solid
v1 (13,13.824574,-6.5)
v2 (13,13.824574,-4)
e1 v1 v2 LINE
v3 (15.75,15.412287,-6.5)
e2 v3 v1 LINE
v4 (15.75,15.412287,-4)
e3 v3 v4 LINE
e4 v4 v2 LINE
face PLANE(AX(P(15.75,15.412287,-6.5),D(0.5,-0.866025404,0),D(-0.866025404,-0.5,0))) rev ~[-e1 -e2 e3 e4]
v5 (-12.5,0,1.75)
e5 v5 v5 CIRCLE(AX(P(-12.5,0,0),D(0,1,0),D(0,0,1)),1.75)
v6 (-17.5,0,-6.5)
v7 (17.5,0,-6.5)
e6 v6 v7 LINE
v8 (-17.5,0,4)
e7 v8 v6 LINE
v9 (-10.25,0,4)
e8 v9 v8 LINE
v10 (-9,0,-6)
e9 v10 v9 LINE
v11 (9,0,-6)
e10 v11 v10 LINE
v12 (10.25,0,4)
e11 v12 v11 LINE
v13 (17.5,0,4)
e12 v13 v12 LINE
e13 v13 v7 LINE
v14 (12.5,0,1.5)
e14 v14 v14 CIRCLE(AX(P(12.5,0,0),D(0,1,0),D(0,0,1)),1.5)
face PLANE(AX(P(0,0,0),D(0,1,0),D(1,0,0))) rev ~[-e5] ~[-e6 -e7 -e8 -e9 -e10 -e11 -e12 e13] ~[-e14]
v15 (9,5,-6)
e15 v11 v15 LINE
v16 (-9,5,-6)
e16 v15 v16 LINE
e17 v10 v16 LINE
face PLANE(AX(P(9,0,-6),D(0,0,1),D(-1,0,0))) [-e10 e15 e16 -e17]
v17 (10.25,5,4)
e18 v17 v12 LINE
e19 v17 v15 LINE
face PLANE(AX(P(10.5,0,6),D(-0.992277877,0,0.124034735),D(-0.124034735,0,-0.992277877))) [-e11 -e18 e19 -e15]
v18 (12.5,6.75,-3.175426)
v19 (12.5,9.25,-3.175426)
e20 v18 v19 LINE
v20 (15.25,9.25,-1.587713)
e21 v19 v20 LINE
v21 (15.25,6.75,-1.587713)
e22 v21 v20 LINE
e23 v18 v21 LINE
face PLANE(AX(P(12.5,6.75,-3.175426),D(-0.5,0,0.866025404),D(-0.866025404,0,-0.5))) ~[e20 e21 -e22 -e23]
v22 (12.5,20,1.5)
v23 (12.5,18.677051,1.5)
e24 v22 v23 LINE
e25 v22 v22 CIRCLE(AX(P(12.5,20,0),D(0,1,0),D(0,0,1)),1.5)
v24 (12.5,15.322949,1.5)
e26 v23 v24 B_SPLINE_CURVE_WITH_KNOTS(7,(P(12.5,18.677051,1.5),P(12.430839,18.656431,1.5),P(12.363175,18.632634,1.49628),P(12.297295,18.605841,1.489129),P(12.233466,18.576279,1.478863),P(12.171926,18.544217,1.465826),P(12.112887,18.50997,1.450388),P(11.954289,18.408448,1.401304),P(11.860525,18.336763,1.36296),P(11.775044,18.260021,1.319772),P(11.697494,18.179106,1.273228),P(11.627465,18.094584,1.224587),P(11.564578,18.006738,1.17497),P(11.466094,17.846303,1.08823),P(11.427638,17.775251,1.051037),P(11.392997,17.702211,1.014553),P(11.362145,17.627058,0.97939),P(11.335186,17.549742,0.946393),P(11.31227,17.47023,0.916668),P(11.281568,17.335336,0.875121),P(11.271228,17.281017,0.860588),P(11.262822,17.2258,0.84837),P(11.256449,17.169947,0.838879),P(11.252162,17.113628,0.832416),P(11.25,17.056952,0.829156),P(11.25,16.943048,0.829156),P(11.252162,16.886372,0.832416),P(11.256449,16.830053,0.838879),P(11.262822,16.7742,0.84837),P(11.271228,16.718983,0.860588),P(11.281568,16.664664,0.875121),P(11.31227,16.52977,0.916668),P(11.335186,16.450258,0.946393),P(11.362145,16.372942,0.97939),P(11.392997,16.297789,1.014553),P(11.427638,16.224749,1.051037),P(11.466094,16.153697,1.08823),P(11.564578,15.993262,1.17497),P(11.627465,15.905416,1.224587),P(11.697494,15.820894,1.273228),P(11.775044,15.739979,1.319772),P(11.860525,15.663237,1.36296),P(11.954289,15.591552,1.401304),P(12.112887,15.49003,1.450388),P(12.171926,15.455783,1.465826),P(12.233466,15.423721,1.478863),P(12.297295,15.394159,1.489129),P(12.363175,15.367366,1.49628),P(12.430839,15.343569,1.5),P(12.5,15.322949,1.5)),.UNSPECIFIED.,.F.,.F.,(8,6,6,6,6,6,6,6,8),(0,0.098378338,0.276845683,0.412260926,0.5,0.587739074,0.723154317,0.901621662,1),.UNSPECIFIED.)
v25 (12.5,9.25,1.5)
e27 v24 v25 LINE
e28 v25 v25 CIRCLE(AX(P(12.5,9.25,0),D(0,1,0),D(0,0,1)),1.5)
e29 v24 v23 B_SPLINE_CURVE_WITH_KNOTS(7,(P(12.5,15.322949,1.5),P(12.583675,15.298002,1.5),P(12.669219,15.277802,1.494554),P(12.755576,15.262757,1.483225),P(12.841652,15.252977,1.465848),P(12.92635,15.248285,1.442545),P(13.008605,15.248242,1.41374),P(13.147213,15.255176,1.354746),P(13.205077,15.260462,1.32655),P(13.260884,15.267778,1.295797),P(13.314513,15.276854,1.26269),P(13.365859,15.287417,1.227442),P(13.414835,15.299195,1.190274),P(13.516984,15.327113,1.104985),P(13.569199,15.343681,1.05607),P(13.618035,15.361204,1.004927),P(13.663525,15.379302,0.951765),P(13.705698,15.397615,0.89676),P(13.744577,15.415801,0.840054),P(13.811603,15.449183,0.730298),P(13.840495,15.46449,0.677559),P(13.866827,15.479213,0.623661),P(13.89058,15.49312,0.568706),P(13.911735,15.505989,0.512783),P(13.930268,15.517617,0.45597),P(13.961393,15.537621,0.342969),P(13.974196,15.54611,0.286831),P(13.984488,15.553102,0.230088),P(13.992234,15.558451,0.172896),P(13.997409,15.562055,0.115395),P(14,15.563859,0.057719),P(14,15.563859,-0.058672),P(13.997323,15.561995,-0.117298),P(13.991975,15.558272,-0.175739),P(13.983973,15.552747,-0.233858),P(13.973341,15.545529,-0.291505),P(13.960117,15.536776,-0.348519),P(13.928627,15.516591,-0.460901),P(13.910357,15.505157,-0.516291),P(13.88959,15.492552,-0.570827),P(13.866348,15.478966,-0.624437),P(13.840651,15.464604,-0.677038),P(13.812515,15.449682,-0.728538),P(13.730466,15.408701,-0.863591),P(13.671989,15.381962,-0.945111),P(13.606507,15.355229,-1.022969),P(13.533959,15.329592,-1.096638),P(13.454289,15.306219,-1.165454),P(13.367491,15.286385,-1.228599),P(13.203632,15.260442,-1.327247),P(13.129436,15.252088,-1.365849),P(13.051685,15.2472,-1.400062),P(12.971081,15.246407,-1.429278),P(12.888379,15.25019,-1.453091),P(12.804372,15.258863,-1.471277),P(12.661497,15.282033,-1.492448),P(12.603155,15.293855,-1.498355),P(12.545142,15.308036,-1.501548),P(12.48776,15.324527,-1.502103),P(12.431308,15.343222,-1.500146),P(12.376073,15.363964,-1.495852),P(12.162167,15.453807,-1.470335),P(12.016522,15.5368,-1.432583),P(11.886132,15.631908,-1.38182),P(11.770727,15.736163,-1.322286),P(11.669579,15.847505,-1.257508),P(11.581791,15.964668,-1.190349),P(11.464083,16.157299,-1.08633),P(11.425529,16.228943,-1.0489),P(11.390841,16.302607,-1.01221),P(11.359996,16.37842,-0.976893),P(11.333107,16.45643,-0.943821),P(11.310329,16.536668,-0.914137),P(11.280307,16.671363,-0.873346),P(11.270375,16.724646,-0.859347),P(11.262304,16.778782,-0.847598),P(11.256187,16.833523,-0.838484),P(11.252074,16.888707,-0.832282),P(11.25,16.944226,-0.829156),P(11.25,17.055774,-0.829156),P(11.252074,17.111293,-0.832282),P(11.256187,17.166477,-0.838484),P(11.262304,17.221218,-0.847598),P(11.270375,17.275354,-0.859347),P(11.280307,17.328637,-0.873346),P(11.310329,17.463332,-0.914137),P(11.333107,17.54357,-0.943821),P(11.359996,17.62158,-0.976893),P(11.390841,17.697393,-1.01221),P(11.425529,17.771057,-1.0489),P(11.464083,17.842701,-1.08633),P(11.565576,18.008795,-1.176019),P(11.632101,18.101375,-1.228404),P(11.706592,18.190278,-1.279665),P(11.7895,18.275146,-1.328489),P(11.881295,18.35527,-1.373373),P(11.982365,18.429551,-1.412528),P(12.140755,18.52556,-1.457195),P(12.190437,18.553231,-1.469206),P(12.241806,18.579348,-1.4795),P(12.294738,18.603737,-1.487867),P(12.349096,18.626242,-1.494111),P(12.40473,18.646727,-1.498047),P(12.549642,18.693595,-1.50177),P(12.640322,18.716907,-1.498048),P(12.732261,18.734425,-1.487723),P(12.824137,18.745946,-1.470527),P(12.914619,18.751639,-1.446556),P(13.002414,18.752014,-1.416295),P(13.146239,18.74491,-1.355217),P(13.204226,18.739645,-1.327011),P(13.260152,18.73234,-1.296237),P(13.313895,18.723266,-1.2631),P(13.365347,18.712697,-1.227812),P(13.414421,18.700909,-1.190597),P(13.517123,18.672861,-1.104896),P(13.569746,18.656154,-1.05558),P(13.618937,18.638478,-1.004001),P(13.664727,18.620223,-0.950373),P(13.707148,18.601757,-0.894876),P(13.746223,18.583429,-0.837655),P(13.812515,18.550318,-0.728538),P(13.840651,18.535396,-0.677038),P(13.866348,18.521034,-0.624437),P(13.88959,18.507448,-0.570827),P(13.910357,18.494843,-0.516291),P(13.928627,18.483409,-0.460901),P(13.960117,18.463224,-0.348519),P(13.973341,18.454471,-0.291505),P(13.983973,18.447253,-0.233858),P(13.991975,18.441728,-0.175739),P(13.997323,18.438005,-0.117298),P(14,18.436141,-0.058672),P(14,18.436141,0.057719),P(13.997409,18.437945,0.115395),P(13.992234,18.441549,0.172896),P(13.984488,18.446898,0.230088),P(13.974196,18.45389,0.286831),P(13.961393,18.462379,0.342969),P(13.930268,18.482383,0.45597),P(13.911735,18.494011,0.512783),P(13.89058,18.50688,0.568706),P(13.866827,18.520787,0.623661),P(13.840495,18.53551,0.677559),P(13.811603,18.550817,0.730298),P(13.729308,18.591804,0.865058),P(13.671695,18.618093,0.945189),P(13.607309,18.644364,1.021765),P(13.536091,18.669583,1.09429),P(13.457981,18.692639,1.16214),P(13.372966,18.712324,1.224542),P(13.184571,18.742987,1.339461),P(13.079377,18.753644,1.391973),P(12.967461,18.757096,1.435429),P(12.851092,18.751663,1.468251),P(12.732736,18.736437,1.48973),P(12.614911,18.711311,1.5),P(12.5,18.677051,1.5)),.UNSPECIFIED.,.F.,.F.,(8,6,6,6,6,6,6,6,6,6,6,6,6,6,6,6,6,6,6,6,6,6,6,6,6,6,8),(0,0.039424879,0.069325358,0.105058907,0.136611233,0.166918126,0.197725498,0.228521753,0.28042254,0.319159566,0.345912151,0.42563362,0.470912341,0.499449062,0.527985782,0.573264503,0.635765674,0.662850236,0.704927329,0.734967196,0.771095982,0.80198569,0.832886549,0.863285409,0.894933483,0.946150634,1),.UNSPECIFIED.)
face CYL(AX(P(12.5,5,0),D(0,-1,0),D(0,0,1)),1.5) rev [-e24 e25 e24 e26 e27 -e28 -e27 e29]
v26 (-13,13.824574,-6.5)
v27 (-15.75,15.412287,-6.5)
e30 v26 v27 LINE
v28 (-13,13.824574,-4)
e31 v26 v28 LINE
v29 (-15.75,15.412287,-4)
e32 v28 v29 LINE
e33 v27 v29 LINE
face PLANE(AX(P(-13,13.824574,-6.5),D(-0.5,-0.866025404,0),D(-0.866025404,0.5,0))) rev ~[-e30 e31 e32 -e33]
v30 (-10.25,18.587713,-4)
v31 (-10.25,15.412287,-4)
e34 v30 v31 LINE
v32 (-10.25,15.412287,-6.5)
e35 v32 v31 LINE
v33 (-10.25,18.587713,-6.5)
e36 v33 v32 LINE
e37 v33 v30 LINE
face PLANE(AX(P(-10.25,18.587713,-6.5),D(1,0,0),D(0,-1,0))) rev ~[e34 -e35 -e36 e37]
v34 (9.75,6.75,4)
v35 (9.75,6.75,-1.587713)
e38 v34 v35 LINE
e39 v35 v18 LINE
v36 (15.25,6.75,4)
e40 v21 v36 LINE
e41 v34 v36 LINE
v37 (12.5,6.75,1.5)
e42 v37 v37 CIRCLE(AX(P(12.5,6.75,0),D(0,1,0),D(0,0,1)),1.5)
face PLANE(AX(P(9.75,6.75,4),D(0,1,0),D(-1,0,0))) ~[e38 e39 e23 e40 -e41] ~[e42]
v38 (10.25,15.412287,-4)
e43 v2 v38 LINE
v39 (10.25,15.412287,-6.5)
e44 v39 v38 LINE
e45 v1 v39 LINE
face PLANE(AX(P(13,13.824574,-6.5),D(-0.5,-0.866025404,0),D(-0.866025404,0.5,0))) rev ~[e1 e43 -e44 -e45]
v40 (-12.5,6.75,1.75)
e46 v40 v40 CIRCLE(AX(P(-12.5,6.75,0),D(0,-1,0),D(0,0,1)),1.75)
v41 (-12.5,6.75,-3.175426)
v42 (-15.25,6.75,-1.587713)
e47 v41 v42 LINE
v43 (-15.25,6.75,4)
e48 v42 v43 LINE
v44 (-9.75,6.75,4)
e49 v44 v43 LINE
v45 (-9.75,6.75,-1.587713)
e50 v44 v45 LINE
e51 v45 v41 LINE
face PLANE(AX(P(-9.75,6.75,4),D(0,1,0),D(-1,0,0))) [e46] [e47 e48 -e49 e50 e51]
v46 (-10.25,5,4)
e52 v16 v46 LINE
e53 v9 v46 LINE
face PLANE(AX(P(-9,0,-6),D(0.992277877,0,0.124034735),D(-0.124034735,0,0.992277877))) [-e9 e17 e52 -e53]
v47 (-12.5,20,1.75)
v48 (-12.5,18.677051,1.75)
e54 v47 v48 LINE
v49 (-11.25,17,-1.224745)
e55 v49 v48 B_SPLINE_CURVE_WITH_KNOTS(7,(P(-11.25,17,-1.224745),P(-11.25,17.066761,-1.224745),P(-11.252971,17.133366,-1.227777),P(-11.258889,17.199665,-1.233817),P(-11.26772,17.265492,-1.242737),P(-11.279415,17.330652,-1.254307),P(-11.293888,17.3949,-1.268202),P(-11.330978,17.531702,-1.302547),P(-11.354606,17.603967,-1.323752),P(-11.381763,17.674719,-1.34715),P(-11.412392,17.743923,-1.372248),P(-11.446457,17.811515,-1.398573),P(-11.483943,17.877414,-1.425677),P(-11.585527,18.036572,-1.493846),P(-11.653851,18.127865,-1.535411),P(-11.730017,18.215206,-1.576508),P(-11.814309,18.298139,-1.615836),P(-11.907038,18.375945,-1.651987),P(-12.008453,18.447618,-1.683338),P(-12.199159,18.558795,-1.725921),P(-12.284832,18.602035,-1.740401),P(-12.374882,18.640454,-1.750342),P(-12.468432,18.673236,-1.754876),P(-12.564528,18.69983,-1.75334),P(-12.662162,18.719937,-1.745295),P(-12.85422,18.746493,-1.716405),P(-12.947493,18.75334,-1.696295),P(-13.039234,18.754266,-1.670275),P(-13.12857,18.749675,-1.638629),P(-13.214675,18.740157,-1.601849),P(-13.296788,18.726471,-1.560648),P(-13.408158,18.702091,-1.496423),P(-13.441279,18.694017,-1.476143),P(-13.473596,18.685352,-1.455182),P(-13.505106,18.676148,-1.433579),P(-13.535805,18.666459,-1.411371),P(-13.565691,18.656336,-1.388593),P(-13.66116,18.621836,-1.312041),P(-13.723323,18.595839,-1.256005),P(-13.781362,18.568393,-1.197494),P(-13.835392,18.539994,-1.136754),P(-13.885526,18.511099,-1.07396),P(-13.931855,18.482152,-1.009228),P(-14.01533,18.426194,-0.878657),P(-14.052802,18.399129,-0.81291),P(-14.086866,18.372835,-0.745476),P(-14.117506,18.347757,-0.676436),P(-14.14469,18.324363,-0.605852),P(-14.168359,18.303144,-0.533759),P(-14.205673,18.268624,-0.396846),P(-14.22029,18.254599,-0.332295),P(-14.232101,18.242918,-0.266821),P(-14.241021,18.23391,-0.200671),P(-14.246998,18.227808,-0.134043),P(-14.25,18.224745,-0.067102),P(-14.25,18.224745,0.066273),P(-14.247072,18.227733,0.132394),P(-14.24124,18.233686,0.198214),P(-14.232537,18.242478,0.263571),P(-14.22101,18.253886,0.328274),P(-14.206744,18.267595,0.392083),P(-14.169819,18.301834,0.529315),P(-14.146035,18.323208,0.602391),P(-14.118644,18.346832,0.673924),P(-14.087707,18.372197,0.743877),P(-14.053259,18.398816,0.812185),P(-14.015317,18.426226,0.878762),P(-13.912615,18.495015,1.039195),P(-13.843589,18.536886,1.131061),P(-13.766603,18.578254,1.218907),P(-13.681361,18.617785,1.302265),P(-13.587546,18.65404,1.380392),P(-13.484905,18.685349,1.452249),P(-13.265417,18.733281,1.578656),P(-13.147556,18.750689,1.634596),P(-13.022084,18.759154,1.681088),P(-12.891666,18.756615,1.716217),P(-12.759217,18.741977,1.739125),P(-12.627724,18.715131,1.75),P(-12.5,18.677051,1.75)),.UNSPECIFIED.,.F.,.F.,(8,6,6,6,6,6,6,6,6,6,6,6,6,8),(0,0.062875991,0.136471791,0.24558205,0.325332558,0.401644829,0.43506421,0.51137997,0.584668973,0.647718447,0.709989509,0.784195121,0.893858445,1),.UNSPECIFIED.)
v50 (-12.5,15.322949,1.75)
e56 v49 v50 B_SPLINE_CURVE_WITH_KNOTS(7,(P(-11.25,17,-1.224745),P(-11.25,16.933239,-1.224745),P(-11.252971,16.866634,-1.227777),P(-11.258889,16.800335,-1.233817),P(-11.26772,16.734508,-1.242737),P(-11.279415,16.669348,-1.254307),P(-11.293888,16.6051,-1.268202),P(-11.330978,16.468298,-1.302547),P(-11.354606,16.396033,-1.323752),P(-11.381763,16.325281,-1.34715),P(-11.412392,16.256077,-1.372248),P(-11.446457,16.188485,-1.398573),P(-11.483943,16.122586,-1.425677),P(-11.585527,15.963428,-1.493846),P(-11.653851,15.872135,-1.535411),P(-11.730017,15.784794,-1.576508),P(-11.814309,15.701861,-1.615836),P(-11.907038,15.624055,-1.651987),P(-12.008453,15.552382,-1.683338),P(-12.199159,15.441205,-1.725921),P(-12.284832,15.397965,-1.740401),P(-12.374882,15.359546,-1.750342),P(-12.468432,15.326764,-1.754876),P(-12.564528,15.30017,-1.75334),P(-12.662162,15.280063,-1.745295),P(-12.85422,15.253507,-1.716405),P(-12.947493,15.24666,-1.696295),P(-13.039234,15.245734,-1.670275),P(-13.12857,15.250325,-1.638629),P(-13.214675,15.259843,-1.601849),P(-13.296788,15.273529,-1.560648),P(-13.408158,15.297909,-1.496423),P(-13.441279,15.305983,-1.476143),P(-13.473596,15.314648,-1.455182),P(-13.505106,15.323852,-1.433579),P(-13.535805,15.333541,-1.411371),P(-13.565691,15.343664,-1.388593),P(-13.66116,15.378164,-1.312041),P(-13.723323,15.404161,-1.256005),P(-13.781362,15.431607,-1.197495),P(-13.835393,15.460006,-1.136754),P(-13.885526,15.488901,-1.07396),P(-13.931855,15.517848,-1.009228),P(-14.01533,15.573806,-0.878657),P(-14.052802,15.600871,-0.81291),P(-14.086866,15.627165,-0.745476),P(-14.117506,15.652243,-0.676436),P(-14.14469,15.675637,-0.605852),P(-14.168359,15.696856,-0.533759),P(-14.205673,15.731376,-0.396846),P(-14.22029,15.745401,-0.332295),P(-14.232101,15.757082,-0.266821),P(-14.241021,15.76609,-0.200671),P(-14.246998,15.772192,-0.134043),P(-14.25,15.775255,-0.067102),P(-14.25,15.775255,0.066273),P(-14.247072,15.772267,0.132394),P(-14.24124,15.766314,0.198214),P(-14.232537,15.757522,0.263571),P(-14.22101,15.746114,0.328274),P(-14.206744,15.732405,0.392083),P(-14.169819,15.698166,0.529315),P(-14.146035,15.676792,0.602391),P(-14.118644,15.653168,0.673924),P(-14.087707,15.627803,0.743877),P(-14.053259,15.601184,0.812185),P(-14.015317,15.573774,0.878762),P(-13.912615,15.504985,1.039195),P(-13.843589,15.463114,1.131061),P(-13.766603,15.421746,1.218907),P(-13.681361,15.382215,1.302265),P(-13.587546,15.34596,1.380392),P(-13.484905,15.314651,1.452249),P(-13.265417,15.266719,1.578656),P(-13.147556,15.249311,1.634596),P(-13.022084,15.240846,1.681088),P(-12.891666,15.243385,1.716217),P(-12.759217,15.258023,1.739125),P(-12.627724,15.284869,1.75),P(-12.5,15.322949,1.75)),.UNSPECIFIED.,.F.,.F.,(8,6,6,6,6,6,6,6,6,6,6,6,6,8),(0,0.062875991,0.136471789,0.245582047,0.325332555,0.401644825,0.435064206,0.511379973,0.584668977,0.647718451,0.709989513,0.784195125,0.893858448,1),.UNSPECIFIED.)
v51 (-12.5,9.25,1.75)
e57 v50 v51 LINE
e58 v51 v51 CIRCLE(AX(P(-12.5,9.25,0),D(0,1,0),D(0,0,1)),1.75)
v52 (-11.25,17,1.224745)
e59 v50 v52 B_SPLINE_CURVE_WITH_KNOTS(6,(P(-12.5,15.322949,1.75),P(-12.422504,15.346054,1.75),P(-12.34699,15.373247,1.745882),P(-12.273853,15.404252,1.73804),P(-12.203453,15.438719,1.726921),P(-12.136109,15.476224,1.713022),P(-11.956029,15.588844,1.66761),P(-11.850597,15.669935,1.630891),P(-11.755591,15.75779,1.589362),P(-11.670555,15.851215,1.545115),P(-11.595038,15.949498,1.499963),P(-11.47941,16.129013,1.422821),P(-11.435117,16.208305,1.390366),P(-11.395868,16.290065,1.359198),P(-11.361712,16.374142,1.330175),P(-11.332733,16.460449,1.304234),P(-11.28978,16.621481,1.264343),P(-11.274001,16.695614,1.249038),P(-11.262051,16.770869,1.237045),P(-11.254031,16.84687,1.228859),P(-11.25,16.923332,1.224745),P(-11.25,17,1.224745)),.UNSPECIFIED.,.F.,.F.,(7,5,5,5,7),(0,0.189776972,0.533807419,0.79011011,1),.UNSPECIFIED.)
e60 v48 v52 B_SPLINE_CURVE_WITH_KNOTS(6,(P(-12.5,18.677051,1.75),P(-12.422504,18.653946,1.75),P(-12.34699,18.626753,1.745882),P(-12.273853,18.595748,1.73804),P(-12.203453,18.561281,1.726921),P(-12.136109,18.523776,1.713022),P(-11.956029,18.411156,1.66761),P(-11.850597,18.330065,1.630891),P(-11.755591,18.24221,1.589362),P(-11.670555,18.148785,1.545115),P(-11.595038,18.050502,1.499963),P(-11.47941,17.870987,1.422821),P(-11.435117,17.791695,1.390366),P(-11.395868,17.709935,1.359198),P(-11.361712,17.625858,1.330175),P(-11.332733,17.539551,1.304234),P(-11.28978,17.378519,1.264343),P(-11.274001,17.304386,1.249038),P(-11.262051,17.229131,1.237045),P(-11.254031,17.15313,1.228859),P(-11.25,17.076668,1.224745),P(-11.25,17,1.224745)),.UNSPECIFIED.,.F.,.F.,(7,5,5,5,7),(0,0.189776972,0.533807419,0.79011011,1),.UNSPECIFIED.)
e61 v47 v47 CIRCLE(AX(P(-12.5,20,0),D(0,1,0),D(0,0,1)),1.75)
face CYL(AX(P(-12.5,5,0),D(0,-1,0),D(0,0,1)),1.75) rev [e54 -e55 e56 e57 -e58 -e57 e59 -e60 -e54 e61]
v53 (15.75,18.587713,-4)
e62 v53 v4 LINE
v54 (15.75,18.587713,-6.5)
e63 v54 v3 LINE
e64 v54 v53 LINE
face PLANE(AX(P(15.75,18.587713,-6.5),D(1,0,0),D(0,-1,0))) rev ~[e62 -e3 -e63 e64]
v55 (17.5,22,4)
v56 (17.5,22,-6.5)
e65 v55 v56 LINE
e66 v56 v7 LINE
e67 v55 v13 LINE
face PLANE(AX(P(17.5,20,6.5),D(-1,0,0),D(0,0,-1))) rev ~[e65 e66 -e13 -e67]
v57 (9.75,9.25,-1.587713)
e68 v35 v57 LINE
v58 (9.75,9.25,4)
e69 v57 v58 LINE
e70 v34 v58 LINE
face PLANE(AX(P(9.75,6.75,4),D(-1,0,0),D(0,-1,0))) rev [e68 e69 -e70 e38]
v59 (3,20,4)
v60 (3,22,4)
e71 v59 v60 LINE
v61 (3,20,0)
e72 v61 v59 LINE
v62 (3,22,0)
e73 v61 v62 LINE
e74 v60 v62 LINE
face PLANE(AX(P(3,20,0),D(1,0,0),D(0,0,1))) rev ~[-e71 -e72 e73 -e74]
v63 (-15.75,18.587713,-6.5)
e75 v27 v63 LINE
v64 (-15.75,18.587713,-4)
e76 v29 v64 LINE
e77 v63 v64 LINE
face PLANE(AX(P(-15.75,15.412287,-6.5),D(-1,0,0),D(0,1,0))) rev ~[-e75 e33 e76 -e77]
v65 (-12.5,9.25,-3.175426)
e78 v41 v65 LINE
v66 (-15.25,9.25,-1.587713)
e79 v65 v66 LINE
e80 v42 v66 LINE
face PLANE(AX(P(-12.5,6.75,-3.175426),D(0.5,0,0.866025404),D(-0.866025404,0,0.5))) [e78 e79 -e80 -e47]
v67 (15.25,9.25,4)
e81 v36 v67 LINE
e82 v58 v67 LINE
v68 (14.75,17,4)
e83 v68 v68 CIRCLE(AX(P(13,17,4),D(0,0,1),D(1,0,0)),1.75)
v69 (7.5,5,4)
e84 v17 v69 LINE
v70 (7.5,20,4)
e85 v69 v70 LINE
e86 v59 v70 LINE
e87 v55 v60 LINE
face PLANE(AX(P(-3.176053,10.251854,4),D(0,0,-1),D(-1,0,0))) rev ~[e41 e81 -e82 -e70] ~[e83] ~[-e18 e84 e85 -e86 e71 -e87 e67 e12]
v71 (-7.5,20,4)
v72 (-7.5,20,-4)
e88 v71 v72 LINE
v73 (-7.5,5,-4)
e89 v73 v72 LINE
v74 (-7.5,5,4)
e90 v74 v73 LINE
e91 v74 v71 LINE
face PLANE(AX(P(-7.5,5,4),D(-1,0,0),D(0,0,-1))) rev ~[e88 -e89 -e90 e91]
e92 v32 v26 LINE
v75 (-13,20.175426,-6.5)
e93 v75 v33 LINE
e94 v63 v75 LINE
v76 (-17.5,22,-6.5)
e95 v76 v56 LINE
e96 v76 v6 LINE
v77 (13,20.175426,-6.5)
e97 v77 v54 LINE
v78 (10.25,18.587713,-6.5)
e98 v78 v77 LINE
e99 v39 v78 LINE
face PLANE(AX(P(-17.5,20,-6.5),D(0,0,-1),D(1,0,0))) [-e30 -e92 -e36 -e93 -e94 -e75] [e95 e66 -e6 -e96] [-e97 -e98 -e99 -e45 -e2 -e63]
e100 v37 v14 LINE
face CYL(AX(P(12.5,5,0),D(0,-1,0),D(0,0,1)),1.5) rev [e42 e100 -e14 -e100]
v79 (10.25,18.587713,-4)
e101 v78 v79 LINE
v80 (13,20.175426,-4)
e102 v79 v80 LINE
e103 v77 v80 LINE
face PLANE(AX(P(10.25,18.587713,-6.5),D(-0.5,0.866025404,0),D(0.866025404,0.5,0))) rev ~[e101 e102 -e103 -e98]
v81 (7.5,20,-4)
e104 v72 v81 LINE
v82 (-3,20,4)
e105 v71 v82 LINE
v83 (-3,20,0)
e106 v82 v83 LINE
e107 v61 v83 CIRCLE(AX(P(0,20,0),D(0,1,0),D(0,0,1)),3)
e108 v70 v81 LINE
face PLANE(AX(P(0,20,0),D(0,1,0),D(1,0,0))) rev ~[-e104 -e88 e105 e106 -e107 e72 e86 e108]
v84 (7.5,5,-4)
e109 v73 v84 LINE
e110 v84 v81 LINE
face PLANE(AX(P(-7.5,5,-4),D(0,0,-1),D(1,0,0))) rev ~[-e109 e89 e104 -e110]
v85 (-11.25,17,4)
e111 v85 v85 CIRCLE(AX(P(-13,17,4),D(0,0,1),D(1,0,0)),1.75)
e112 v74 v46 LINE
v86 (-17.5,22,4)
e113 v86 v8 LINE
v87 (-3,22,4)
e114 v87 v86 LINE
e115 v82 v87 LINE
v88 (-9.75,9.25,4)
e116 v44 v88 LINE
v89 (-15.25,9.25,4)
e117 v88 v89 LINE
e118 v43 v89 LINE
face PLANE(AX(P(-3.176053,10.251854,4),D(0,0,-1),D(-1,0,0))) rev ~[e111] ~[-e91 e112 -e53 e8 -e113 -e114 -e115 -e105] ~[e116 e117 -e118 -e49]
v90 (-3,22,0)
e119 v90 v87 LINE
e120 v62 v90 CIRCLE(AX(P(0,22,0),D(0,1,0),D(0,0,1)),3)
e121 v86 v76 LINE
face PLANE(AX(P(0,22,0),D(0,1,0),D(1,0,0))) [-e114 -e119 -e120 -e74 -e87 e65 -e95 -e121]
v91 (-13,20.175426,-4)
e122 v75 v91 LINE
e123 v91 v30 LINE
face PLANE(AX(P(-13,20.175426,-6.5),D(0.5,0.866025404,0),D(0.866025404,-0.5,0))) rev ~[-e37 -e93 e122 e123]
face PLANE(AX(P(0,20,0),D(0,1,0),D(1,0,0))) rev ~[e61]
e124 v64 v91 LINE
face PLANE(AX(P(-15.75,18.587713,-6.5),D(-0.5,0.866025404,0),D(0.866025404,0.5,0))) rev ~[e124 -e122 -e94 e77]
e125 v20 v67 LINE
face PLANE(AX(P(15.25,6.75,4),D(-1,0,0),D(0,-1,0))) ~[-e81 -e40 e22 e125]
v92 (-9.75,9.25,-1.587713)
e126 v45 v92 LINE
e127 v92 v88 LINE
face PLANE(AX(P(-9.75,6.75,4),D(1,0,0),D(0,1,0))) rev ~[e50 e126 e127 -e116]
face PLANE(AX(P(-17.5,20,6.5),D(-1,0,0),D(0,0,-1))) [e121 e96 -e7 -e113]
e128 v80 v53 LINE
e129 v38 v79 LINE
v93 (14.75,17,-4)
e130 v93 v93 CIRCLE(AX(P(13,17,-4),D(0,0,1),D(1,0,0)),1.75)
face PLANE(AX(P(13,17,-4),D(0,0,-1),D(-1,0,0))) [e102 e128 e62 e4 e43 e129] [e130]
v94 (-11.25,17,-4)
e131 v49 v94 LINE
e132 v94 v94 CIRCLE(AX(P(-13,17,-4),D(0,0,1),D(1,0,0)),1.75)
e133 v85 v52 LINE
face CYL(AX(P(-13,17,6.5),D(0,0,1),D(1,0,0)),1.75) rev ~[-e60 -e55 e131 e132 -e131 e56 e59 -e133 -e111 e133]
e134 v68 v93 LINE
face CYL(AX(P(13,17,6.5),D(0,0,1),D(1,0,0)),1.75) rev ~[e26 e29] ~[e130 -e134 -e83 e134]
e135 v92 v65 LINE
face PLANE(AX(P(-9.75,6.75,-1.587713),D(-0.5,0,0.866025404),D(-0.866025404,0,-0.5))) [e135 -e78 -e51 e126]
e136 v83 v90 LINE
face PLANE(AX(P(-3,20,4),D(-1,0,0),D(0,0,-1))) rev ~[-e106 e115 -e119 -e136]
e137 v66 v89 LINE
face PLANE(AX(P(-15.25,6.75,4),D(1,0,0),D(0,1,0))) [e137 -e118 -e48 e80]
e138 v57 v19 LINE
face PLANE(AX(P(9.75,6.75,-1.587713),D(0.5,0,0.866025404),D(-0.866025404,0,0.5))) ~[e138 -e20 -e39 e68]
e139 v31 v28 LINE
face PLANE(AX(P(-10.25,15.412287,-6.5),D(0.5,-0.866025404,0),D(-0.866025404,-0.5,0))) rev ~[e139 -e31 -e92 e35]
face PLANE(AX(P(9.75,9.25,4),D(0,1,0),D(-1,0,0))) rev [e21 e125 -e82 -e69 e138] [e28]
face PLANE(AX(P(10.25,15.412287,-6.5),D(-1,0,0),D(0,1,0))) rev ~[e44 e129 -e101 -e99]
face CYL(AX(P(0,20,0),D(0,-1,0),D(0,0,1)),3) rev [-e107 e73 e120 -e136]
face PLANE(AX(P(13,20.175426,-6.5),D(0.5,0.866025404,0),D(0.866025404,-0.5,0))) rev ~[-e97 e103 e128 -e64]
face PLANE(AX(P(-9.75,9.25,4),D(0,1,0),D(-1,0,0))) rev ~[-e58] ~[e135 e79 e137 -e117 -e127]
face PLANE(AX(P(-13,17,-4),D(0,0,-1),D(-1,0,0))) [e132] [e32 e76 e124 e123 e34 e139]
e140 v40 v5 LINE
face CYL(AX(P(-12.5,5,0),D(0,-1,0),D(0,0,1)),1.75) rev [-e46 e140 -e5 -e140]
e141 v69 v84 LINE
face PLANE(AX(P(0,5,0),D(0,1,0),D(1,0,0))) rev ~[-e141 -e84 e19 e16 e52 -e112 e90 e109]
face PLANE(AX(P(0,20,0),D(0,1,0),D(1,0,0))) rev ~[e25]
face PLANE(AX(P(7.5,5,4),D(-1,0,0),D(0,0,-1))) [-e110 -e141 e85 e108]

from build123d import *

# Parameters (mm, degrees)
ESQUISSE1_W             = 35
ESQUISSE1_H             = 13
ESQUISSE1_R             = 1.75
ESQUISSE1_R_2           = 1.5
BOSS_EXTRU_1_DEPTH      = 5
ESQUISSE2_W             = 35
ESQUISSE2_H             = 13
ESQUISSE2_R             = 1.5
ESQUISSE2_R_2           = 1.75
ESQUISSE2_W_2           = 15
ESQUISSE2_H_2           = 8
BOSS_EXTRU_2_DEPTH      = 15
ESQUISSE3_W             = 35
ESQUISSE3_H             = 13
ESQUISSE3_R             = 3
BOSS_EXTRU_3_DEPTH      = 2
ESQUISSE9_R             = 1.75
ENL_V_MAT_EXTRU_5_DEPTH = 31.971761332
ESQUISSE5_W             = 52.735375718
ESQUISSE5_H             = 32.07387294
ENL_V_MAT_EXTRU_1_DEPTH = 31.008332211
ENL_V_MAT_EXTRU_2_DEPTH = 28.358728137
ESQUISSE4_W             = 5.5
ESQUISSE4_H             = 2.5
ENL_V_MAT_EXTRU_3_DEPTH = 4
ENL_V_MAT_EXTRU_4_DEPTH = 2.5
ENL_V_MAT_EXTRU_6_DEPTH = 2.5


with BuildPart() as part:
    # Esquisse1 → Boss.-Extru.1 (new body)
    with BuildSketch(Plane(origin=(0, 0, 0), x_dir=(1, 0, 0), z_dir=(0, 1, 0))):
        Rectangle(ESQUISSE1_W, ESQUISSE1_H)
        with Locations(Location((-12.5, 0, 0), (0, 0, 270))):
            Circle(ESQUISSE1_R, mode=Mode.SUBTRACT)
        with Locations(Location((12.5, 0, 0), (0, 0, 270))):
            Circle(ESQUISSE1_R_2, mode=Mode.SUBTRACT)
        Polygon((-10.5, -6), (10.5, -6), (9, 6), (-9, 6), align=None, mode=Mode.SUBTRACT)
    extrude(amount=BOSS_EXTRU_1_DEPTH)

    # Esquisse2 → Boss.-Extru.2 (add)
    with BuildSketch(Plane(origin=(0, 5, 0), x_dir=(1, 0, 0), z_dir=(0, 1, 0))):
        Rectangle(ESQUISSE2_W, ESQUISSE2_H)
        with Locations(Location((12.5, 0, 0), (0, 0, 270))):
            Circle(ESQUISSE2_R, mode=Mode.SUBTRACT)
        with Locations(Location((-12.5, 0, 0), (0, 0, 270))):
            Circle(ESQUISSE2_R_2, mode=Mode.SUBTRACT)
        Rectangle(ESQUISSE2_W_2, ESQUISSE2_H_2, mode=Mode.SUBTRACT)
    extrude(amount=BOSS_EXTRU_2_DEPTH)

    # Esquisse3 → Boss.-Extru.3 (add)
    with BuildSketch(Plane(origin=(0, 20, 0), x_dir=(1, 0, 0), z_dir=(0, 1, 0))):
        Rectangle(ESQUISSE3_W, ESQUISSE3_H)
        with Locations(Location((0, 0, 0), (0, 0, 270))):
            Circle(ESQUISSE3_R, mode=Mode.SUBTRACT)
    extrude(amount=BOSS_EXTRU_3_DEPTH)

    # Esquisse9 → Enlèv. mat.-Extru.5 (cut, through all)
    with BuildSketch(Plane.XY.offset(6.5)):
        with Locations((-13, 17)):
            Circle(ESQUISSE9_R)
        with Locations((13, 17)):
            Circle(ESQUISSE9_R)
    extrude(amount=-ENL_V_MAT_EXTRU_5_DEPTH, mode=Mode.SUBTRACT)

    # Esquisse5 → Enlèv. mat.-Extru.1 (cut, through all)
    with BuildSketch(Plane(origin=(0, 0, 4), x_dir=(-1, 0, 0), z_dir=(0, 0, -1))):
        with Locations((3.176053458, 10.251854402)):
            Rectangle(ESQUISSE5_W, ESQUISSE5_H)
    extrude(amount=-ENL_V_MAT_EXTRU_1_DEPTH, mode=Mode.SUBTRACT)

    # Esquisse6 → Enlèv. mat.-Extru.2 (cut, through all)
    with BuildSketch(Plane.XZ.offset(-20)):
        with BuildLine():
            Line((-3, 4), (-3, 0))
            ThreePointArc((-3, 0), (0, 3), (3, 0))
            Line((3, 0), (3, 4))
            Line((3, 4), (-3, 4))
        make_face()
    extrude(amount=-ENL_V_MAT_EXTRU_2_DEPTH, mode=Mode.SUBTRACT)

    # Esquisse4 → Enlèv. mat.-Extru.3 (cut)
    with BuildSketch(Plane(origin=(0, 0, 4), x_dir=(-1, 0, 0), z_dir=(0, 0, -1))):
        with Locations((12.5, 8)):
            Rectangle(ESQUISSE4_W, ESQUISSE4_H)
    enl_v_mat_extru_3 = extrude(amount=ENL_V_MAT_EXTRU_3_DEPTH, mode=Mode.SUBTRACT)

    # Esquisse7 → Enlèv. mat.-Extru.4 (cut)
    with BuildSketch(Plane(origin=(0, 6.75, 0), x_dir=(1, 0, 0), z_dir=(0, 1, 0))):
        Polygon((-9.75, -1.58771324), (-9.75, 1.58771324), (-12.5, 3.175426481), (-15.25, 1.58771324), (-15.25, -1.58771324), (-12.5, -3.175426481), align=None)
    enl_v_mat_extru_4 = extrude(amount=ENL_V_MAT_EXTRU_4_DEPTH, mode=Mode.SUBTRACT)

    # Symétrie1: Enlèv. mat.-Extru.3, Enlèv. mat.-Extru.4 across plane
    add(enl_v_mat_extru_3.mirror(Plane.ZY), mode=Mode.SUBTRACT)
    add(enl_v_mat_extru_4.mirror(Plane.ZY), mode=Mode.SUBTRACT)

    # Esquisse10 → Enlèv. mat.-Extru.6 (cut)
    with BuildSketch(Plane(origin=(0, 0, -6.5), x_dir=(-1, 0, 0), z_dir=(0, 0, -1))):
        Polygon((-10.25, 15.41228676), (-10.25, 18.58771324), (-13, 20.175426481), (-15.75, 18.58771324), (-15.75, 15.41228676), (-13, 13.824573519), align=None)
        Polygon((13, 13.824573519), (15.75, 15.41228676), (15.75, 18.58771324), (13, 20.175426481), (10.25, 18.58771324), (10.25, 15.41228676), align=None)
    extrude(amount=-ENL_V_MAT_EXTRU_6_DEPTH, mode=Mode.SUBTRACT)


solid = part.part
